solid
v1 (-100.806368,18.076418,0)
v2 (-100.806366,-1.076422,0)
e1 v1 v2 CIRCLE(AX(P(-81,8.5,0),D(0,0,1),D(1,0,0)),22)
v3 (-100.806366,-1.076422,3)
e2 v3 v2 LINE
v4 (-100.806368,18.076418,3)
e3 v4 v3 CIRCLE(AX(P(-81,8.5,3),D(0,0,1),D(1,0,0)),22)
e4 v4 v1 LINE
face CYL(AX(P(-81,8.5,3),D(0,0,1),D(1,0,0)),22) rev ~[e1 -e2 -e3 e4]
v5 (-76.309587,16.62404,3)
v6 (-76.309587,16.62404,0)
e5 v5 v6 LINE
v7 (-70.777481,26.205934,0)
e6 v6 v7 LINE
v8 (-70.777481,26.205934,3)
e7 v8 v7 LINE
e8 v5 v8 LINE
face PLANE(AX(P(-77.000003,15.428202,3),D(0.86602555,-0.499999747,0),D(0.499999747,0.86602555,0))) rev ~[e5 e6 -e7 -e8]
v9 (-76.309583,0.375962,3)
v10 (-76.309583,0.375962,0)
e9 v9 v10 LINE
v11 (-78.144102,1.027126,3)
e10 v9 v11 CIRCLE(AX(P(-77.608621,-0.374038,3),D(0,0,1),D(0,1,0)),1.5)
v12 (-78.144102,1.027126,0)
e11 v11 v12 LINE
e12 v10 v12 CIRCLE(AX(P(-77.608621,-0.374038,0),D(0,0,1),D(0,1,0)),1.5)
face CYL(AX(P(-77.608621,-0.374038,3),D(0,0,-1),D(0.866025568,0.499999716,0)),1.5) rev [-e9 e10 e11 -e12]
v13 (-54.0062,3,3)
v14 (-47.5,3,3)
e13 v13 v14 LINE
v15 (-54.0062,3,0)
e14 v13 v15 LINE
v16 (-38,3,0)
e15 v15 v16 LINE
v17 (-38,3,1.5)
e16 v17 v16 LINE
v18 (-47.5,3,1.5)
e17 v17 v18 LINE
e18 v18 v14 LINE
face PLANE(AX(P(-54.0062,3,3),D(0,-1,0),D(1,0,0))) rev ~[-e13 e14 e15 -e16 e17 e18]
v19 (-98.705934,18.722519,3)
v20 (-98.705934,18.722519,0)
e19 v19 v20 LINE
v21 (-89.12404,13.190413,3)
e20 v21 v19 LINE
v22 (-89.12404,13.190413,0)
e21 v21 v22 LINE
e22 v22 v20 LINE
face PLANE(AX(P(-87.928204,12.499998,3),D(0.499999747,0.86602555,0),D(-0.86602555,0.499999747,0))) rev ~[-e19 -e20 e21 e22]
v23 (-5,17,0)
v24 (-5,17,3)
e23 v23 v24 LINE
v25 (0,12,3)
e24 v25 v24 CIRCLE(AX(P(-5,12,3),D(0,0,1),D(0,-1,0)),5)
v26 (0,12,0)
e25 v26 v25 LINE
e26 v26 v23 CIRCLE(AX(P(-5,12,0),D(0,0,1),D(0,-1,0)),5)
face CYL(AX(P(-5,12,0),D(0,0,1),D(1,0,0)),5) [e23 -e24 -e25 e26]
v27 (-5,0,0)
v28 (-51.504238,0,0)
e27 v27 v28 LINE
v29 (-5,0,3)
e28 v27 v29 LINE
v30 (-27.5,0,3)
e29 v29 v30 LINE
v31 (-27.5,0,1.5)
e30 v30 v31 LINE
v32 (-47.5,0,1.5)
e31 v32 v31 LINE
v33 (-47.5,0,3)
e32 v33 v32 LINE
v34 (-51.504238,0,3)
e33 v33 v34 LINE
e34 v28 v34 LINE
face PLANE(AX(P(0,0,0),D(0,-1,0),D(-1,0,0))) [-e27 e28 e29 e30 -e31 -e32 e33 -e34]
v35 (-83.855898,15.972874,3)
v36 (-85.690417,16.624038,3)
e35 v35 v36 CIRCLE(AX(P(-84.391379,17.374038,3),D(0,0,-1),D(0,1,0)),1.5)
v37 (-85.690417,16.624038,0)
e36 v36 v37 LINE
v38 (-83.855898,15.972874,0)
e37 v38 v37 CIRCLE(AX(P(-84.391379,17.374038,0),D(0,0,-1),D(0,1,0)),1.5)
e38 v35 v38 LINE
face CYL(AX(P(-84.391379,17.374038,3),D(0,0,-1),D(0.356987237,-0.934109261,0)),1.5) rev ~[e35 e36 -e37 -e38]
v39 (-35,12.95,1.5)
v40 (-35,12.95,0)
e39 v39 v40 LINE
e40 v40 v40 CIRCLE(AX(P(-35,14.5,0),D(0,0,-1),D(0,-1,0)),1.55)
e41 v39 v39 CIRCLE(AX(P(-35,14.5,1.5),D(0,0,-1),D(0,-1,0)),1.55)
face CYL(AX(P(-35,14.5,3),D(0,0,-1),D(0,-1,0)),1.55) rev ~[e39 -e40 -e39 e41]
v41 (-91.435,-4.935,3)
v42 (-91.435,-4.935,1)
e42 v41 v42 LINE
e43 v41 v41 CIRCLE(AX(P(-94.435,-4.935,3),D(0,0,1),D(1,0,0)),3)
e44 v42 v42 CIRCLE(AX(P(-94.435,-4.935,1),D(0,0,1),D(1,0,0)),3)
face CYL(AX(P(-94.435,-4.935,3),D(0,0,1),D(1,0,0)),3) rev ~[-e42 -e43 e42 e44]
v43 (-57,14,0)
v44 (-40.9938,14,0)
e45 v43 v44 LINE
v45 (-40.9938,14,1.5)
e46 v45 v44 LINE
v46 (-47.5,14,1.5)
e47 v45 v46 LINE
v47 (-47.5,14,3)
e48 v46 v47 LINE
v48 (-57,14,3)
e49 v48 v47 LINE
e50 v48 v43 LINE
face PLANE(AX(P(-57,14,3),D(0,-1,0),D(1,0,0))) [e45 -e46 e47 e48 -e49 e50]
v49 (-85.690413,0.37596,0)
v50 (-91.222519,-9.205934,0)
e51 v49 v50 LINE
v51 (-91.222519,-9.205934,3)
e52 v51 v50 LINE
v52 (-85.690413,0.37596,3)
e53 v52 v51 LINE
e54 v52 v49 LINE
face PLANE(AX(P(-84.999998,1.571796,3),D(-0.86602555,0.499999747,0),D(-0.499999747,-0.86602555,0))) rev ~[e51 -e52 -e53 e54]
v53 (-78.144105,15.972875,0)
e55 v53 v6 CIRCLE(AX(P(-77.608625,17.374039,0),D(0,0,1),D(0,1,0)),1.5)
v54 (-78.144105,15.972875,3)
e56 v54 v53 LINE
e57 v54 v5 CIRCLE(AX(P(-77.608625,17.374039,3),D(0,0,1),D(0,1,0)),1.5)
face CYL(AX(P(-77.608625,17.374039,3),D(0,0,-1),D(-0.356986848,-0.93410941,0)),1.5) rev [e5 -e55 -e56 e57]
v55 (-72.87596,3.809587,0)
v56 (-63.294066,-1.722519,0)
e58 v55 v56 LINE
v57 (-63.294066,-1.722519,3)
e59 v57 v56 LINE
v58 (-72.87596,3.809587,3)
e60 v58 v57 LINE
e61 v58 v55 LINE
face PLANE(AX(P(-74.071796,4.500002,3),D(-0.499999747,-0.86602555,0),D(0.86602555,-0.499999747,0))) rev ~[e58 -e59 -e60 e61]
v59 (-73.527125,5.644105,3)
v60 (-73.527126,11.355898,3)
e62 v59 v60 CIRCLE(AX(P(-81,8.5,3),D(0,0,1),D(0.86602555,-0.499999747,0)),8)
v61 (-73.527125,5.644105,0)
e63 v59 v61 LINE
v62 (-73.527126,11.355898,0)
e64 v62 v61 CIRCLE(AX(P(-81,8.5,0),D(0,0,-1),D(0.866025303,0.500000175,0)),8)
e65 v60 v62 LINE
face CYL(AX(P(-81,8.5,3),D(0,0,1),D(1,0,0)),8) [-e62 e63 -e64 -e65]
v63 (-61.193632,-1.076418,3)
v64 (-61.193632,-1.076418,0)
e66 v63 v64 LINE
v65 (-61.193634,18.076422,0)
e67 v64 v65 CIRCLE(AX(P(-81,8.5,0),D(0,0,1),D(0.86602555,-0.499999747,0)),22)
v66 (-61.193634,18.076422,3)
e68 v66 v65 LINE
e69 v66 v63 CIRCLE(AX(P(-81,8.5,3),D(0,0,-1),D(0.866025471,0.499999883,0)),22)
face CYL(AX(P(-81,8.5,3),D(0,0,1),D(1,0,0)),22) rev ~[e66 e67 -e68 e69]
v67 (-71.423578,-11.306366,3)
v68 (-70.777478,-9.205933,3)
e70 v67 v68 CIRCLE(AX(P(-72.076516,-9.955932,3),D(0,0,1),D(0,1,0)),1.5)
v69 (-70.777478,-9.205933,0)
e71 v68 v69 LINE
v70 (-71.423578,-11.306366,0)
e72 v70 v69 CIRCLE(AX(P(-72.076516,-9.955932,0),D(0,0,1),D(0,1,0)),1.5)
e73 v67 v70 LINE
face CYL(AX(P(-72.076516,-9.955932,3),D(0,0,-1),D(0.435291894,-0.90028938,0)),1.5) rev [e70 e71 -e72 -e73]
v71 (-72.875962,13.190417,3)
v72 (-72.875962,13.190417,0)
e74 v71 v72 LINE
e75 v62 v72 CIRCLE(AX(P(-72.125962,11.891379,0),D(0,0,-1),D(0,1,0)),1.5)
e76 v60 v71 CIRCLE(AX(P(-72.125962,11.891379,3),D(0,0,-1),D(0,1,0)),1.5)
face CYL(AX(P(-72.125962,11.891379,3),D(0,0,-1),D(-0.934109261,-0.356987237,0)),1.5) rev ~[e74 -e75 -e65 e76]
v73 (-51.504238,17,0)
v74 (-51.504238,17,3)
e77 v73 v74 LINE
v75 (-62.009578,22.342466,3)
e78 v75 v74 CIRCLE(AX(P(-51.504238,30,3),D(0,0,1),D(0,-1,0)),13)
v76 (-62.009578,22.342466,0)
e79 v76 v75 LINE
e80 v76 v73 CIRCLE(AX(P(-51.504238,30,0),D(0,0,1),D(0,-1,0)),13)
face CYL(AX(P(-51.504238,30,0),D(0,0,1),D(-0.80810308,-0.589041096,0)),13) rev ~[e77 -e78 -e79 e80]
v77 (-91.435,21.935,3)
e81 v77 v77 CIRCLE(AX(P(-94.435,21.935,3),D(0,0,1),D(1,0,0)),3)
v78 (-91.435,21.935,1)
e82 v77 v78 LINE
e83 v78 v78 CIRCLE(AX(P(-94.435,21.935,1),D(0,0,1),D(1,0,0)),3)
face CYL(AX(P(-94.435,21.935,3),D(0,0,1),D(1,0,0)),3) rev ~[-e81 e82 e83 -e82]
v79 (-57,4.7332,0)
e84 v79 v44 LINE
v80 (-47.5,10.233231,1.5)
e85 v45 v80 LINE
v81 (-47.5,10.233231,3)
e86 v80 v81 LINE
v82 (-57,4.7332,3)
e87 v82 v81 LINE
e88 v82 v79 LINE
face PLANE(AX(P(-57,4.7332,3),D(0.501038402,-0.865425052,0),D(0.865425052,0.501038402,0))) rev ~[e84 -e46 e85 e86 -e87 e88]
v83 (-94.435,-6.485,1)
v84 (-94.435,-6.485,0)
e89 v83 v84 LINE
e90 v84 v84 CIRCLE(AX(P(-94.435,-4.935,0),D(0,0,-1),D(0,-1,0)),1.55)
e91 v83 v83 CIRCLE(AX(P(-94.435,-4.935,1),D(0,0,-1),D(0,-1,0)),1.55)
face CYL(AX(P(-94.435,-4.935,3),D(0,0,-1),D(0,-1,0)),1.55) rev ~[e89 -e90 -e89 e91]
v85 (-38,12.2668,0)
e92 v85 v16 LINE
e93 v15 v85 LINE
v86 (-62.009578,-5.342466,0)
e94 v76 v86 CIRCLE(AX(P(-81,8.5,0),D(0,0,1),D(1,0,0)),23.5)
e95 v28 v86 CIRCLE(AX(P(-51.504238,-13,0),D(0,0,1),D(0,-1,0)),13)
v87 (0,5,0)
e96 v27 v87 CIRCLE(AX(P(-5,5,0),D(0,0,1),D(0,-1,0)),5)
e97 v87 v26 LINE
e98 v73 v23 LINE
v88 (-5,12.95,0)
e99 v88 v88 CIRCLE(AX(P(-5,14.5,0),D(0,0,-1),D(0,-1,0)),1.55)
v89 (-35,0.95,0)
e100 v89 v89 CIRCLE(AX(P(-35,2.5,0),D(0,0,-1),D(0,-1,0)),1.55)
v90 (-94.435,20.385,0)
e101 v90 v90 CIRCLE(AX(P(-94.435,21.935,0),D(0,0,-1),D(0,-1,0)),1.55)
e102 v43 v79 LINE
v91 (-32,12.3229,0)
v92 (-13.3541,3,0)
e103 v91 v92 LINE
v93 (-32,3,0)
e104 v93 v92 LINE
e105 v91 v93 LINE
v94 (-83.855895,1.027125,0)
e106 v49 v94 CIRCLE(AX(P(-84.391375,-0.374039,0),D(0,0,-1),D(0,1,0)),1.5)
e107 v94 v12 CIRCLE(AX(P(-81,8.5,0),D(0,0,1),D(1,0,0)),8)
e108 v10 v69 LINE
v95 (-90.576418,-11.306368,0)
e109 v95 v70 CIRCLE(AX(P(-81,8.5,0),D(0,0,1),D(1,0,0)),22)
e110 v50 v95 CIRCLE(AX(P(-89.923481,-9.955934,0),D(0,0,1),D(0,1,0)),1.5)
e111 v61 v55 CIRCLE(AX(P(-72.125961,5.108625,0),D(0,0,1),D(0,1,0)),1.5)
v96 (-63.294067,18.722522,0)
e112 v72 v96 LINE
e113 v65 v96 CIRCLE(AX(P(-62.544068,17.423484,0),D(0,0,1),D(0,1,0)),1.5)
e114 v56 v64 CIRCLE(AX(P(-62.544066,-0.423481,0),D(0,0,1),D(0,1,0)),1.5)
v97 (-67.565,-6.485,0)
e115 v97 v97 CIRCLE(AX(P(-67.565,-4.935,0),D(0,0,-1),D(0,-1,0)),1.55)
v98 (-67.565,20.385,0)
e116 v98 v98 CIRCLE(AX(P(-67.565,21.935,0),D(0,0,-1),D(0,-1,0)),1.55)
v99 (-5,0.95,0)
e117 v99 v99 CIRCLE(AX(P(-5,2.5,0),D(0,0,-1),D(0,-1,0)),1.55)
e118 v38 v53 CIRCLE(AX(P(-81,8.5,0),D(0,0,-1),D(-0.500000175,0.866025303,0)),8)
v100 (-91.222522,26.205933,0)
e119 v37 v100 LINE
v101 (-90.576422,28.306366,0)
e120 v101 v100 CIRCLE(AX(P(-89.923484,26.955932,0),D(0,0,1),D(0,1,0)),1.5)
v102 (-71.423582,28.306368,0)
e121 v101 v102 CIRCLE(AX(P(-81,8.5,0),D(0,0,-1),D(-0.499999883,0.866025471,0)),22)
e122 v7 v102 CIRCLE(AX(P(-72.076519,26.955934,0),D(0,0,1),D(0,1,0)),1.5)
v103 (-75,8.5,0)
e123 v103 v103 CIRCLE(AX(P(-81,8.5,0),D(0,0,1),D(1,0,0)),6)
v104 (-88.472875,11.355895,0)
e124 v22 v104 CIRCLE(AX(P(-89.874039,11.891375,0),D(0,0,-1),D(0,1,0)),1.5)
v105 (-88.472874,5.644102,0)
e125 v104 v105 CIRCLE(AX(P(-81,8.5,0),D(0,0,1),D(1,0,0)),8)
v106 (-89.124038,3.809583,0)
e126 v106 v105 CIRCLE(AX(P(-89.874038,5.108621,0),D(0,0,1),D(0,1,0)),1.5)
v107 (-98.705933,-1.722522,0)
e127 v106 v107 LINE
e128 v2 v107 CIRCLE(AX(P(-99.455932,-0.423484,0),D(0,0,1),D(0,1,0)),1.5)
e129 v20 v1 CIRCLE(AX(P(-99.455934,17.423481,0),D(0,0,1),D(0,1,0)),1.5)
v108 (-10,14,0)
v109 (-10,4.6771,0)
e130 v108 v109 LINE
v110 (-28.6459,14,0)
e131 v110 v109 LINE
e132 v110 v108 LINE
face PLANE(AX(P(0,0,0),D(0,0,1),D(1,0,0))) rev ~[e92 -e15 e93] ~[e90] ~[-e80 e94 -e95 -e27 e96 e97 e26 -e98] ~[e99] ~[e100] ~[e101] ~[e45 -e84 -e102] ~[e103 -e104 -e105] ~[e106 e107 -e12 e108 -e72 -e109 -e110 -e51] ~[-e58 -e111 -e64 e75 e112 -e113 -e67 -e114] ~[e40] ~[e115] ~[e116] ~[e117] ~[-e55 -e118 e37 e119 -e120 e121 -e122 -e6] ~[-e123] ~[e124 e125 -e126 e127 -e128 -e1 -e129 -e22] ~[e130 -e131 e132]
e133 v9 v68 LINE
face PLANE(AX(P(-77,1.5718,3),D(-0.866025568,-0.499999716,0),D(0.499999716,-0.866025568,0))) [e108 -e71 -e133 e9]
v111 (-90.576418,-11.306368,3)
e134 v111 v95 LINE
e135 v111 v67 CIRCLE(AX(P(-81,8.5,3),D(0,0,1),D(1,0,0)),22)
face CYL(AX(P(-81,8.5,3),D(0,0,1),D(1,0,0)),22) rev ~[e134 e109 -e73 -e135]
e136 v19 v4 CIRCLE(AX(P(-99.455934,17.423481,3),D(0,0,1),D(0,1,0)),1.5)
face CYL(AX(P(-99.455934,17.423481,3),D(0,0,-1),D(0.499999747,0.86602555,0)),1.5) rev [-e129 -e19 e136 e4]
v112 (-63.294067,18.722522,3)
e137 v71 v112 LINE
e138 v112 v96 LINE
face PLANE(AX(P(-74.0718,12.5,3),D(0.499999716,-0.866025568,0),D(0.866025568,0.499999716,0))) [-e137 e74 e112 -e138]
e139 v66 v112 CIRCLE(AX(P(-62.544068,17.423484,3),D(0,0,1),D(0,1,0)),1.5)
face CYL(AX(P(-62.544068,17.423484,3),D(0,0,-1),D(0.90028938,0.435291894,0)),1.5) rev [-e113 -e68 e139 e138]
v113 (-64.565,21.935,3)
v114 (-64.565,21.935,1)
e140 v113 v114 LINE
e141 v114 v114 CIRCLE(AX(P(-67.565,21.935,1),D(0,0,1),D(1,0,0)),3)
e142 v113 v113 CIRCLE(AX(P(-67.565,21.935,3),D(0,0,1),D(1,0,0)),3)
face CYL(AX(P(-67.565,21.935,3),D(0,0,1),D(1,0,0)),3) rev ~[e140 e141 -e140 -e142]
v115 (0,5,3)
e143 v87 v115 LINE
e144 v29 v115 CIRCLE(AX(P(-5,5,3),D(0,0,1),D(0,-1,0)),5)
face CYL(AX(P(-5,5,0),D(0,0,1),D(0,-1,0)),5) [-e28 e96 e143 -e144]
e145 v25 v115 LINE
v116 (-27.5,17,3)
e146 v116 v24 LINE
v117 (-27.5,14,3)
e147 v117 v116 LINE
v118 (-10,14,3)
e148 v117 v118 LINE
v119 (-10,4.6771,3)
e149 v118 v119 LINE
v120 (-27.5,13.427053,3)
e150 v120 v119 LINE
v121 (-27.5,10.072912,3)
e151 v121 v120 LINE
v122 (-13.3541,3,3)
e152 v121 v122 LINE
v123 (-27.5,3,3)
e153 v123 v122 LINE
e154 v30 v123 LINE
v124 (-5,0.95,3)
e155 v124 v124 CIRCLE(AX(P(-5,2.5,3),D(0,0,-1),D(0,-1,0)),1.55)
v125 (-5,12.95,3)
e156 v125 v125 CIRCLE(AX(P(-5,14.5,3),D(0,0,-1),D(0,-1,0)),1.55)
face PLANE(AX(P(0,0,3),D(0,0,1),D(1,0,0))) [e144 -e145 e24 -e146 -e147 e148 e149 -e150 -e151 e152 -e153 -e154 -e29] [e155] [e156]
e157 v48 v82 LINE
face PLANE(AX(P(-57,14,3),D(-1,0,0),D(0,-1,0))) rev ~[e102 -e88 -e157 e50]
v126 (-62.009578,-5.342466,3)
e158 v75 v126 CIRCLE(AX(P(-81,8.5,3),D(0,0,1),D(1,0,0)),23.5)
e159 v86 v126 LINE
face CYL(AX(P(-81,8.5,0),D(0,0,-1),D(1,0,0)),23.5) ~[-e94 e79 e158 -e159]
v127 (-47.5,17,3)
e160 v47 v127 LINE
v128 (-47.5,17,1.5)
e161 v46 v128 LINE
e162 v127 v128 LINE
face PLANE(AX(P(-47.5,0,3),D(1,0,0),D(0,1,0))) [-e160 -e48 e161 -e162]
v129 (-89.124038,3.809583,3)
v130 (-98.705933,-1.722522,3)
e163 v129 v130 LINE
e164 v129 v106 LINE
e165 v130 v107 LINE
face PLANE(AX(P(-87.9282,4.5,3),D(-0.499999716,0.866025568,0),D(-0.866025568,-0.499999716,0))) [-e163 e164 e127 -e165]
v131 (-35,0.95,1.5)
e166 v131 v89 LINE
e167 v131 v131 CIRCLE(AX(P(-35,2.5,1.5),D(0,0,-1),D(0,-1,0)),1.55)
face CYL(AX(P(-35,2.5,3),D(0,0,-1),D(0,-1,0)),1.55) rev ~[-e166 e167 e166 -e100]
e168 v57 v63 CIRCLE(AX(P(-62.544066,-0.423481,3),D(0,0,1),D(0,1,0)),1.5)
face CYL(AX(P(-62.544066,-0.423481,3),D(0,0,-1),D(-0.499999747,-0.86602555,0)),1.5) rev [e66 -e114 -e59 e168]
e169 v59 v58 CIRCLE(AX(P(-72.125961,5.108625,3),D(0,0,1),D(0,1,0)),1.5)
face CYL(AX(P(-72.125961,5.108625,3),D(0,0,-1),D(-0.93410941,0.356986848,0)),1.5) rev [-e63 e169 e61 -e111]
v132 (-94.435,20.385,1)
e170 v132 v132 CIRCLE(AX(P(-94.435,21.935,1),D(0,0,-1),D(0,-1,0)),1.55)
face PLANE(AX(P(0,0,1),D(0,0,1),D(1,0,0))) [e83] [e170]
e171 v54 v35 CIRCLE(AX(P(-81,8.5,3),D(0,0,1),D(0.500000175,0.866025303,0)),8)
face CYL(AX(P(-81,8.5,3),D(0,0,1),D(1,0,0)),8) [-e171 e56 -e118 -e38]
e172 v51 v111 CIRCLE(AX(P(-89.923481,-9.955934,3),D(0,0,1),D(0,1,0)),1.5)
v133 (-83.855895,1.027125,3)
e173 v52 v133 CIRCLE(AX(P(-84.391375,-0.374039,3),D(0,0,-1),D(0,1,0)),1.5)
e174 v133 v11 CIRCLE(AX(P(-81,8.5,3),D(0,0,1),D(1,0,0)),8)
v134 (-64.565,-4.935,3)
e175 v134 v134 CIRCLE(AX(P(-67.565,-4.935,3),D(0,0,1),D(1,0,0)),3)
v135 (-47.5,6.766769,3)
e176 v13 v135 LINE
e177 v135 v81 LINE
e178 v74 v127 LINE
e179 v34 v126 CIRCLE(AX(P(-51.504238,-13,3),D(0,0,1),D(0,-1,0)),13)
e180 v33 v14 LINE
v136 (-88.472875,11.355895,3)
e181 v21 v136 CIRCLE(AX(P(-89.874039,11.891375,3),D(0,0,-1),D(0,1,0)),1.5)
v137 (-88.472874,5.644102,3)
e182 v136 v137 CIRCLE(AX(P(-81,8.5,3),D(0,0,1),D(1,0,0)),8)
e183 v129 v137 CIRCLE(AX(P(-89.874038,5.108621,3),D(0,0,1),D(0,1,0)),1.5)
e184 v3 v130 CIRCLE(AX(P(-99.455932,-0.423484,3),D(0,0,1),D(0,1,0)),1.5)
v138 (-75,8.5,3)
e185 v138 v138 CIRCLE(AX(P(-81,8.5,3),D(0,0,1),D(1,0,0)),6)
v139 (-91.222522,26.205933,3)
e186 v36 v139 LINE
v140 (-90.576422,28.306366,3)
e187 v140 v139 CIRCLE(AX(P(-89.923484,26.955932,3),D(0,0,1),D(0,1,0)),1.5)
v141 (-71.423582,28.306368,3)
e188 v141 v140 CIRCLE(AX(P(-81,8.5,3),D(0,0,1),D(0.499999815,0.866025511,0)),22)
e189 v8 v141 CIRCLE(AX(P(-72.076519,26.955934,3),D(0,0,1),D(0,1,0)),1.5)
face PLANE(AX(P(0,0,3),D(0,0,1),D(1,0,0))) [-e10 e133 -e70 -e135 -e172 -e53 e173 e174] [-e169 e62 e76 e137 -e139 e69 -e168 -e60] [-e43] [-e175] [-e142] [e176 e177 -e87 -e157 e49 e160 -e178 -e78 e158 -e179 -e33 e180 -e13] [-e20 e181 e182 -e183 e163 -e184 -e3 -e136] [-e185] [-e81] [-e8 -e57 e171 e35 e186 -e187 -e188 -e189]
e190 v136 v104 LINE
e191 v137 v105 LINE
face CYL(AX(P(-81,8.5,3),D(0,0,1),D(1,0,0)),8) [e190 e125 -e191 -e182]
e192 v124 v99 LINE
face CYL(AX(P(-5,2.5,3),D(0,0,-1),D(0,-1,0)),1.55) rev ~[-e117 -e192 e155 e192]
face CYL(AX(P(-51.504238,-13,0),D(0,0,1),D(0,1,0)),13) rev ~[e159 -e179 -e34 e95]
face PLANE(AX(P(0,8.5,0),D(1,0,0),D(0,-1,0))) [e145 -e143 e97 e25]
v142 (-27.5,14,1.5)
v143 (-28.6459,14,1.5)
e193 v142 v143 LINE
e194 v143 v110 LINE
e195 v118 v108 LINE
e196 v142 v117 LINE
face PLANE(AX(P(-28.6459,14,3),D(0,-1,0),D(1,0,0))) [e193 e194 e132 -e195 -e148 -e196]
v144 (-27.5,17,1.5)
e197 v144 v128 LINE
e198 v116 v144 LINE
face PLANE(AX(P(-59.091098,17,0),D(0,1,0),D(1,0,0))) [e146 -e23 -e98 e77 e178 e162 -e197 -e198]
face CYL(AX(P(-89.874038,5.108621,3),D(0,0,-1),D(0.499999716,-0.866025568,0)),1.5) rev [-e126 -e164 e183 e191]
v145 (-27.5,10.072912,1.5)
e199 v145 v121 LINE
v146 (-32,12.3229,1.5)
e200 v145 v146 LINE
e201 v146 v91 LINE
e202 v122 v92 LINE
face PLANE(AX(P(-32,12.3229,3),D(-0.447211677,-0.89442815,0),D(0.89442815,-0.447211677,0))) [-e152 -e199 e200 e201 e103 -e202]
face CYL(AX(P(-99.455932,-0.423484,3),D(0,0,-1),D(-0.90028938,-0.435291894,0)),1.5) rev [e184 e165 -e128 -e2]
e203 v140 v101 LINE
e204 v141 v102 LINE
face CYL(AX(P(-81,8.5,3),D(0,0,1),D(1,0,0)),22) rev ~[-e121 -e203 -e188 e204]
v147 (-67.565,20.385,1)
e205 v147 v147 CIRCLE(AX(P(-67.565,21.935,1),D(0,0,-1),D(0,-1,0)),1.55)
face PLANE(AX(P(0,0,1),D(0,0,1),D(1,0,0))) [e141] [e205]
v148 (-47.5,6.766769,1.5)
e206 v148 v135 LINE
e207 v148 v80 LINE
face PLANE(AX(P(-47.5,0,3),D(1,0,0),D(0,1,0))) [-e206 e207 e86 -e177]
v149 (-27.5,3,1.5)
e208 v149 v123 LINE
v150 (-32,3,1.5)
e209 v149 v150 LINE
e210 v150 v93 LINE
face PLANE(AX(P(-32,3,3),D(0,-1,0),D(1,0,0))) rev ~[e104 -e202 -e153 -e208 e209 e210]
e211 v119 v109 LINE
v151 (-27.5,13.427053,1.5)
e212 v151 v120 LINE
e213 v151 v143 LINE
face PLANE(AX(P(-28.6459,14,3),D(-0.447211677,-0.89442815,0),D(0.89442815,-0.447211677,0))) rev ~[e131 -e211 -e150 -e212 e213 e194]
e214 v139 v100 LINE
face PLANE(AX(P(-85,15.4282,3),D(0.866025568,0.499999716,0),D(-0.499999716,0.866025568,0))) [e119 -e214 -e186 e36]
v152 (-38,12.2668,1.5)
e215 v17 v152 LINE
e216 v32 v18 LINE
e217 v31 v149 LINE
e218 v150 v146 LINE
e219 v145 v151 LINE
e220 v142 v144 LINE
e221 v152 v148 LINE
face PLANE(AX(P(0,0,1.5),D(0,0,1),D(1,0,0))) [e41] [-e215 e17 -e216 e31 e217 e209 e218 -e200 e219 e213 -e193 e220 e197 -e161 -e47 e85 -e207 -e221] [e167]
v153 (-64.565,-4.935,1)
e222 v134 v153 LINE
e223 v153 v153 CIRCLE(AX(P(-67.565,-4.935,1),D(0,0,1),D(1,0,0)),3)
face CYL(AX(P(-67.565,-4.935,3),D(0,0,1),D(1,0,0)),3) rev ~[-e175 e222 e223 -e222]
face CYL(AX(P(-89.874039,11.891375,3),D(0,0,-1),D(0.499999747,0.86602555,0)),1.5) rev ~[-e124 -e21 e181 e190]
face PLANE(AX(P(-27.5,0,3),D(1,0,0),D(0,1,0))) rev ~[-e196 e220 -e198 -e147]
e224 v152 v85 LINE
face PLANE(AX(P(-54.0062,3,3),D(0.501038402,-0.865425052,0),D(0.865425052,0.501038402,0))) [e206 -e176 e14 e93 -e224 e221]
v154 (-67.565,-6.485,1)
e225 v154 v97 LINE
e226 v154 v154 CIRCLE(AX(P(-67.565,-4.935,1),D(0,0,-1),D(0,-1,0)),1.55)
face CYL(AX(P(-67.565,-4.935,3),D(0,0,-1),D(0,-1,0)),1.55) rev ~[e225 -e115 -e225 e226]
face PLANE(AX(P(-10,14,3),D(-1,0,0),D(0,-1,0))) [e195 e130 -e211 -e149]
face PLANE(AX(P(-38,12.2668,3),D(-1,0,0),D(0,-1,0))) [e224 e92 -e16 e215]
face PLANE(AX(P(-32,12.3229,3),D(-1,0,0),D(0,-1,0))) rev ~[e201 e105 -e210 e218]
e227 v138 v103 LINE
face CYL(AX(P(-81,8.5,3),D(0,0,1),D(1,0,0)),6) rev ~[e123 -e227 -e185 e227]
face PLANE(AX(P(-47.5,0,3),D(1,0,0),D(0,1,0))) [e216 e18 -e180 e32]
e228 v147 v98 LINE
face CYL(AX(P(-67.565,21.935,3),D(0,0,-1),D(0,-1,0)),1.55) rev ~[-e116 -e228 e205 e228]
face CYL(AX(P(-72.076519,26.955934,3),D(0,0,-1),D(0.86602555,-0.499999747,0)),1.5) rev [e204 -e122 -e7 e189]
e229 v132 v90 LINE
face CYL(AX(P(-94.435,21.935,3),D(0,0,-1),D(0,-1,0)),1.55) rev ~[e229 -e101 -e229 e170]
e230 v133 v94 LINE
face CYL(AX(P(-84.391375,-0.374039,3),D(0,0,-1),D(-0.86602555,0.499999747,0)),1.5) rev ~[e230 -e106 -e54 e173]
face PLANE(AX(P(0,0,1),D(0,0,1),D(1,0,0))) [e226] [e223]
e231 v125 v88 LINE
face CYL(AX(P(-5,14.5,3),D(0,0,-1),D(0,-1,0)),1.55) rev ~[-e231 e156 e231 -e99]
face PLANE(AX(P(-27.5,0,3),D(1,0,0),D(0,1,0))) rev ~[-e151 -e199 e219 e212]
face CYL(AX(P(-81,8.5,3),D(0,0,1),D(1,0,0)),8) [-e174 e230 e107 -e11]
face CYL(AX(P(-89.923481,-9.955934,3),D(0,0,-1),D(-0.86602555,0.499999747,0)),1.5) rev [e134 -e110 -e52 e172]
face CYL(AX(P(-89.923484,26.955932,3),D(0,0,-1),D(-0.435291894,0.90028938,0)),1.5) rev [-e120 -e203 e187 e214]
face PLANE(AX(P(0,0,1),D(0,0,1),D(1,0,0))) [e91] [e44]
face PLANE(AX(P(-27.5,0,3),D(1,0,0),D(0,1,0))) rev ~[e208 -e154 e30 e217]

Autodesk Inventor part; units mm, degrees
ref_plane "YZ Plane" through (0, 0, 0) normal (1, 0, 0) x (0, 1, 0)
ref_plane "XZ Plane" through (0, 0, 0) normal (0, 1, 0) x (-1, 0, 0)
ref_plane "XY Plane" through (0, 0, 0) normal (0, 0, 1) x (1, 0, 0)
sketch "スケッチ1" plane through (0, 0, 0) normal (0, 0, 1) x (1, 0, 0)
  line L0 (0, 0) -> (-81, 0)
  line L1 (-81, 0) -> (-81, 17)
  line L2 (-81, 17) -> (0, 17)
  line L3 (0, 17) -> (0, 0)
  line L4 (-81, 8.5) -> (0, 8.5)
  circle A0 centre (-81, 8.5) radius 23.5
  point P0 (-59.0911, 17)
  point P1 (-59.0911, 0)
  dimension "d0" = 17
  dimension "d28" = 47
  dimension "d29" = 81
extrude "押し出し1" add sketch "スケッチ1" along normal blind 3
sketch "スケッチ2" plane through (0, 0, 3) normal (0, 0, 1) x (1, 0, 0)
  line L0 (0, 0) -> (0, 17) projected
  line L1 (0, 8.5) -> (-59.0911, 8.5)
  line L2 (0, 17) -> (-59.0911, 17) projected
  line L3 (-5, 17) -> (-5, 0)
  line L4 (-35, 17) -> (-35, 0)
  line L5 (-59.0911, 0) -> (0, 0) projected
  arc A0 (-59.0911, 17) -> (-59.0911, 0) centre (-81, 8.5) ccw projected
  line L6 (-59.0911, 17) -> (-59.0911, 0)
  point P0 (-5, 14.5)
  point P1 (-35, 14.5)
  point P2 (-5, 2.5)
  point P3 (-35, 2.5)
  dimension "d4" = 5
  dimension "d5" = 30
  dimension "d6" = 6
  dimension "d7" = 6
hole "穴1" at (-5, 14.5, 3) at (-35, 14.5, 3) at (-35, 2.5, 3) at (-5, 2.5, 3) direction (0, 0, -1) diameter 3.1 depth 20 tip angle 118
sketch "スケッチ5" plane through (0, 0, 3) normal (0, 0, 1) x (1, 0, 0)
  arc A0 (-59.0911, 17) -> (-59.0911, 0) centre (-81, 8.5) ccw projected
  line L0 (-59.0911, 0) -> (0, 0) projected
  line L1 (0, 0) -> (0, 17) projected
  circle A1 centre (-81, 8.5) radius 19
  line L2 (-81, 8.5) -> (-81, 27.5)
  line L3 (-81, 8.5) -> (-94.435, 21.935)
  point P0 (-94.435, -4.935)
  point P1 (-67.565, -4.935)
  point P2 (-67.565, 21.935)
  dimension "d80" = 38
  dimension "d81" = 45
  dimension "d84" = 360
hole "穴3" at (-67.565, 21.935, 3) at (-67.565, -4.935, 3) at (-94.435, -4.935, 3) at (-94.435, 21.935, 3) direction (0, 0, -1) diameter 3.1 end through all
sketch "スケッチ6" plane through (0, 0, 3) normal (0, 0, 1) x (1, 0, 0)
  arc A0 (-59.0911, 17) -> (-59.0911, 0) centre (-81, 8.5) ccw projected
  circle A1 centre (-81, 8.5) radius 6
  point P0 (0, 0)
  dimension "d43" = 12
extrude "押し出し3" cut sketch "スケッチ6" against normal blind 3
sketch "スケッチ7" plane through (0, 0, 3) normal (0, 0, 1) x (1, 0, 0)
  circle A0 centre (-94.435, -4.935) radius 1.55 projected
  circle A1 centre (-67.565, -4.935) radius 1.55 projected
  circle A2 centre (-67.565, -4.935) radius 3
  circle A3 centre (-94.435, -4.935) radius 3
  circle A4 centre (-94.435, 21.935) radius 1.55 projected
  circle A5 centre (-94.435, 21.935) radius 3
  circle A6 centre (-67.565, 21.935) radius 1.55 projected
  circle A7 centre (-67.565, 21.935) radius 3
  point P0 (0, 0)
  dimension "d86" = 6
  dimension "d87" = 6
  dimension "d88" = 6
  dimension "d89" = 6
extrude "押し出し4" cut sketch "スケッチ7" against normal blind 2 contours A0 | A1 | A2 | A3 | A4 | A5 | A6 | A7
sketch "スケッチ8" plane through (0, 0, 3) normal (0, 0, 1) x (1, 0, 0)
  line L0 (-81, 8.5) -> (-81, 30.5)
  line L1 (-81, 8.5) -> (-20.8346, 112.7096)
  line L2 (-77, 15.4282) -> (-20.8346, 112.7096)
  circle A0 centre (-81, 8.5) radius 22
  circle A1 centre (-81, 8.5) radius 8
  line L3 (0, 17) -> (-59.0911, 17) projected
  line L4 (-57, 17) -> (-57, -1.5)
  line L5 (-38, 17) -> (-38, 0)
  line L6 (-59.0911, 0) -> (0, 0) projected
  line L7 (-32, 17) -> (-32, 0)
  circle A2 centre (-35, 14.5) radius 1.55 projected
  line L8 (-10, 17) -> (-10, 0)
  line L9 (0, 0) -> (0, 17) projected
  line L10 (-57, 3) -> (0, 3)
  line L11 (-57, 14) -> (0, 14)
  line L12 (-57, 3) -> (-38, 14)
  line L13 (-57, 4.7332) -> (-40.9938, 14)
  line L14 (-54.0062, 3) -> (-38, 12.2668)
  line L15 (-32, 14) -> (-10, 3)
  line L16 (-32, 12.3229) -> (-13.3541, 3)
  line L17 (-28.6459, 14) -> (-10, 4.6771)
  line L18 (-85, 15.4282) -> (-141.1654, 112.7096)
  line L19 (-87.9282, 4.5) -> (-185.2096, -51.6654)
  line L20 (-81, 8.5) -> (-185.2096, 68.6654)
  line L21 (-77, 1.5718) -> (-20.8346, -95.7096)
  line L22 (-81, 8.5) -> (-141.1654, -95.7096)
  line L23 (-74.0718, 12.5) -> (23.2096, 68.6654)
  line L24 (-81, 8.5) -> (23.2096, -51.6654)
  circle A3 centre (-81, 8.5) radius 6 projected
  point P0 (-10, 14)
  point P1 (-32, 3)
  point P2 (-38, 3)
  point P3 (-87.9282, 12.5)
  point P4 (-85, 1.5718)
  point P5 (-74.0718, 4.5)
  point P6 (-85, 1.5718)
  point P7 (-92, -10.5526)
  point P8 (-70, -10.5526)
  point P9 (-77, 1.5718)
  point P10 (-74.0718, 4.5)
  point P11 (-61.9474, -2.5)
  point P12 (-61.9474, 19.5)
  point P13 (-74.0718, 12.5)
  point P14 (-92, 27.5526)
  point P15 (-85, 15.4282)
  point P16 (-70, 27.5526)
  point P17 (-87.9282, 12.5)
  point P18 (-100.0526, 19.5)
  point P19 (-100.0526, -2.5)
  point P20 (-87.9282, 4.5)
  dimension "d57" = 44
  dimension "d69" = 16
  dimension "d52" = 30
  dimension "d58" = 24
  dimension "d59" = 3
  dimension "d60" = 3
  dimension "d61" = 10
  dimension "d62" = 3
  dimension "d63" = 3
  dimension "d64" = 1.5
  dimension "d66" = 1.5
  dimension "d67" = 1.5
  dimension "d68" = 1.5
  dimension "d74" = 360
extrude "押し出し5" cut sketch "スケッチ8" against normal blind 3 contours A1 L18 A0 L0 | L0 A0 L1 A1 | A1 L19 A0 L20 | A1 L21 A0 L22 | A1 L23 A0 L24 | L8 L17 L11 | L16 L10 L7 | L11 L13 L4 | L5 L10 L14
fillet "フィレット1" radius 1.5 16 edges at (-100.0526, 19.5, 1.5) (-87.9282, 12.5, 1.5) (-85, 15.4282, 1.5) (-92, 27.5526, 1.5) (-70, 27.5526, 1.5) (-77, 15.4282, 1.5) (-74.0718, 12.5, 1.5) (-61.9474, 19.5, 1.5) (-74.0718, 4.5, 1.5) (-61.9474, -2.5, 1.5) (-70, -10.5526, 1.5) (-77, 1.5718, 1.5) (-85, 1.5718, 1.5) (-92, -10.5526, 1.5) (-87.9282, 4.5, 1.5) (-100.0526, -2.5, 1.5)
fillet "フィレット2" radius 13 2 edges at (-59.0911, 17, 1.5) (-59.0911, 0, 1.5)
fillet "フィレット3" radius 5 2 edges at (0, 17, 1.5) (0, 0, 1.5)
sketch "スケッチ9" plane through (0, 0, 3) normal (0, 0, 1) x (1, 0, 0)
  line L0 (-51.5042, 0) -> (-5, 0) projected
  line L1 (-27.5, 0) -> (-27.5, 17)
  line L2 (-5, 17) -> (-51.5042, 17) projected
  line L3 (-47.5, 0) -> (-47.5, 17)
  line L4 (0, 5) -> (0, 12) projected
  point P0 (0, 0)
  point P1 (-47.5, 17)
  point P2 (-47.5, 0)
  dimension "d90" = 27.5
  dimension "d91" = 20
extrude "押し出し6" cut sketch "スケッチ9" against normal blind 1.5
properties part number "link2plate4" material "アルミニウム 6061"
